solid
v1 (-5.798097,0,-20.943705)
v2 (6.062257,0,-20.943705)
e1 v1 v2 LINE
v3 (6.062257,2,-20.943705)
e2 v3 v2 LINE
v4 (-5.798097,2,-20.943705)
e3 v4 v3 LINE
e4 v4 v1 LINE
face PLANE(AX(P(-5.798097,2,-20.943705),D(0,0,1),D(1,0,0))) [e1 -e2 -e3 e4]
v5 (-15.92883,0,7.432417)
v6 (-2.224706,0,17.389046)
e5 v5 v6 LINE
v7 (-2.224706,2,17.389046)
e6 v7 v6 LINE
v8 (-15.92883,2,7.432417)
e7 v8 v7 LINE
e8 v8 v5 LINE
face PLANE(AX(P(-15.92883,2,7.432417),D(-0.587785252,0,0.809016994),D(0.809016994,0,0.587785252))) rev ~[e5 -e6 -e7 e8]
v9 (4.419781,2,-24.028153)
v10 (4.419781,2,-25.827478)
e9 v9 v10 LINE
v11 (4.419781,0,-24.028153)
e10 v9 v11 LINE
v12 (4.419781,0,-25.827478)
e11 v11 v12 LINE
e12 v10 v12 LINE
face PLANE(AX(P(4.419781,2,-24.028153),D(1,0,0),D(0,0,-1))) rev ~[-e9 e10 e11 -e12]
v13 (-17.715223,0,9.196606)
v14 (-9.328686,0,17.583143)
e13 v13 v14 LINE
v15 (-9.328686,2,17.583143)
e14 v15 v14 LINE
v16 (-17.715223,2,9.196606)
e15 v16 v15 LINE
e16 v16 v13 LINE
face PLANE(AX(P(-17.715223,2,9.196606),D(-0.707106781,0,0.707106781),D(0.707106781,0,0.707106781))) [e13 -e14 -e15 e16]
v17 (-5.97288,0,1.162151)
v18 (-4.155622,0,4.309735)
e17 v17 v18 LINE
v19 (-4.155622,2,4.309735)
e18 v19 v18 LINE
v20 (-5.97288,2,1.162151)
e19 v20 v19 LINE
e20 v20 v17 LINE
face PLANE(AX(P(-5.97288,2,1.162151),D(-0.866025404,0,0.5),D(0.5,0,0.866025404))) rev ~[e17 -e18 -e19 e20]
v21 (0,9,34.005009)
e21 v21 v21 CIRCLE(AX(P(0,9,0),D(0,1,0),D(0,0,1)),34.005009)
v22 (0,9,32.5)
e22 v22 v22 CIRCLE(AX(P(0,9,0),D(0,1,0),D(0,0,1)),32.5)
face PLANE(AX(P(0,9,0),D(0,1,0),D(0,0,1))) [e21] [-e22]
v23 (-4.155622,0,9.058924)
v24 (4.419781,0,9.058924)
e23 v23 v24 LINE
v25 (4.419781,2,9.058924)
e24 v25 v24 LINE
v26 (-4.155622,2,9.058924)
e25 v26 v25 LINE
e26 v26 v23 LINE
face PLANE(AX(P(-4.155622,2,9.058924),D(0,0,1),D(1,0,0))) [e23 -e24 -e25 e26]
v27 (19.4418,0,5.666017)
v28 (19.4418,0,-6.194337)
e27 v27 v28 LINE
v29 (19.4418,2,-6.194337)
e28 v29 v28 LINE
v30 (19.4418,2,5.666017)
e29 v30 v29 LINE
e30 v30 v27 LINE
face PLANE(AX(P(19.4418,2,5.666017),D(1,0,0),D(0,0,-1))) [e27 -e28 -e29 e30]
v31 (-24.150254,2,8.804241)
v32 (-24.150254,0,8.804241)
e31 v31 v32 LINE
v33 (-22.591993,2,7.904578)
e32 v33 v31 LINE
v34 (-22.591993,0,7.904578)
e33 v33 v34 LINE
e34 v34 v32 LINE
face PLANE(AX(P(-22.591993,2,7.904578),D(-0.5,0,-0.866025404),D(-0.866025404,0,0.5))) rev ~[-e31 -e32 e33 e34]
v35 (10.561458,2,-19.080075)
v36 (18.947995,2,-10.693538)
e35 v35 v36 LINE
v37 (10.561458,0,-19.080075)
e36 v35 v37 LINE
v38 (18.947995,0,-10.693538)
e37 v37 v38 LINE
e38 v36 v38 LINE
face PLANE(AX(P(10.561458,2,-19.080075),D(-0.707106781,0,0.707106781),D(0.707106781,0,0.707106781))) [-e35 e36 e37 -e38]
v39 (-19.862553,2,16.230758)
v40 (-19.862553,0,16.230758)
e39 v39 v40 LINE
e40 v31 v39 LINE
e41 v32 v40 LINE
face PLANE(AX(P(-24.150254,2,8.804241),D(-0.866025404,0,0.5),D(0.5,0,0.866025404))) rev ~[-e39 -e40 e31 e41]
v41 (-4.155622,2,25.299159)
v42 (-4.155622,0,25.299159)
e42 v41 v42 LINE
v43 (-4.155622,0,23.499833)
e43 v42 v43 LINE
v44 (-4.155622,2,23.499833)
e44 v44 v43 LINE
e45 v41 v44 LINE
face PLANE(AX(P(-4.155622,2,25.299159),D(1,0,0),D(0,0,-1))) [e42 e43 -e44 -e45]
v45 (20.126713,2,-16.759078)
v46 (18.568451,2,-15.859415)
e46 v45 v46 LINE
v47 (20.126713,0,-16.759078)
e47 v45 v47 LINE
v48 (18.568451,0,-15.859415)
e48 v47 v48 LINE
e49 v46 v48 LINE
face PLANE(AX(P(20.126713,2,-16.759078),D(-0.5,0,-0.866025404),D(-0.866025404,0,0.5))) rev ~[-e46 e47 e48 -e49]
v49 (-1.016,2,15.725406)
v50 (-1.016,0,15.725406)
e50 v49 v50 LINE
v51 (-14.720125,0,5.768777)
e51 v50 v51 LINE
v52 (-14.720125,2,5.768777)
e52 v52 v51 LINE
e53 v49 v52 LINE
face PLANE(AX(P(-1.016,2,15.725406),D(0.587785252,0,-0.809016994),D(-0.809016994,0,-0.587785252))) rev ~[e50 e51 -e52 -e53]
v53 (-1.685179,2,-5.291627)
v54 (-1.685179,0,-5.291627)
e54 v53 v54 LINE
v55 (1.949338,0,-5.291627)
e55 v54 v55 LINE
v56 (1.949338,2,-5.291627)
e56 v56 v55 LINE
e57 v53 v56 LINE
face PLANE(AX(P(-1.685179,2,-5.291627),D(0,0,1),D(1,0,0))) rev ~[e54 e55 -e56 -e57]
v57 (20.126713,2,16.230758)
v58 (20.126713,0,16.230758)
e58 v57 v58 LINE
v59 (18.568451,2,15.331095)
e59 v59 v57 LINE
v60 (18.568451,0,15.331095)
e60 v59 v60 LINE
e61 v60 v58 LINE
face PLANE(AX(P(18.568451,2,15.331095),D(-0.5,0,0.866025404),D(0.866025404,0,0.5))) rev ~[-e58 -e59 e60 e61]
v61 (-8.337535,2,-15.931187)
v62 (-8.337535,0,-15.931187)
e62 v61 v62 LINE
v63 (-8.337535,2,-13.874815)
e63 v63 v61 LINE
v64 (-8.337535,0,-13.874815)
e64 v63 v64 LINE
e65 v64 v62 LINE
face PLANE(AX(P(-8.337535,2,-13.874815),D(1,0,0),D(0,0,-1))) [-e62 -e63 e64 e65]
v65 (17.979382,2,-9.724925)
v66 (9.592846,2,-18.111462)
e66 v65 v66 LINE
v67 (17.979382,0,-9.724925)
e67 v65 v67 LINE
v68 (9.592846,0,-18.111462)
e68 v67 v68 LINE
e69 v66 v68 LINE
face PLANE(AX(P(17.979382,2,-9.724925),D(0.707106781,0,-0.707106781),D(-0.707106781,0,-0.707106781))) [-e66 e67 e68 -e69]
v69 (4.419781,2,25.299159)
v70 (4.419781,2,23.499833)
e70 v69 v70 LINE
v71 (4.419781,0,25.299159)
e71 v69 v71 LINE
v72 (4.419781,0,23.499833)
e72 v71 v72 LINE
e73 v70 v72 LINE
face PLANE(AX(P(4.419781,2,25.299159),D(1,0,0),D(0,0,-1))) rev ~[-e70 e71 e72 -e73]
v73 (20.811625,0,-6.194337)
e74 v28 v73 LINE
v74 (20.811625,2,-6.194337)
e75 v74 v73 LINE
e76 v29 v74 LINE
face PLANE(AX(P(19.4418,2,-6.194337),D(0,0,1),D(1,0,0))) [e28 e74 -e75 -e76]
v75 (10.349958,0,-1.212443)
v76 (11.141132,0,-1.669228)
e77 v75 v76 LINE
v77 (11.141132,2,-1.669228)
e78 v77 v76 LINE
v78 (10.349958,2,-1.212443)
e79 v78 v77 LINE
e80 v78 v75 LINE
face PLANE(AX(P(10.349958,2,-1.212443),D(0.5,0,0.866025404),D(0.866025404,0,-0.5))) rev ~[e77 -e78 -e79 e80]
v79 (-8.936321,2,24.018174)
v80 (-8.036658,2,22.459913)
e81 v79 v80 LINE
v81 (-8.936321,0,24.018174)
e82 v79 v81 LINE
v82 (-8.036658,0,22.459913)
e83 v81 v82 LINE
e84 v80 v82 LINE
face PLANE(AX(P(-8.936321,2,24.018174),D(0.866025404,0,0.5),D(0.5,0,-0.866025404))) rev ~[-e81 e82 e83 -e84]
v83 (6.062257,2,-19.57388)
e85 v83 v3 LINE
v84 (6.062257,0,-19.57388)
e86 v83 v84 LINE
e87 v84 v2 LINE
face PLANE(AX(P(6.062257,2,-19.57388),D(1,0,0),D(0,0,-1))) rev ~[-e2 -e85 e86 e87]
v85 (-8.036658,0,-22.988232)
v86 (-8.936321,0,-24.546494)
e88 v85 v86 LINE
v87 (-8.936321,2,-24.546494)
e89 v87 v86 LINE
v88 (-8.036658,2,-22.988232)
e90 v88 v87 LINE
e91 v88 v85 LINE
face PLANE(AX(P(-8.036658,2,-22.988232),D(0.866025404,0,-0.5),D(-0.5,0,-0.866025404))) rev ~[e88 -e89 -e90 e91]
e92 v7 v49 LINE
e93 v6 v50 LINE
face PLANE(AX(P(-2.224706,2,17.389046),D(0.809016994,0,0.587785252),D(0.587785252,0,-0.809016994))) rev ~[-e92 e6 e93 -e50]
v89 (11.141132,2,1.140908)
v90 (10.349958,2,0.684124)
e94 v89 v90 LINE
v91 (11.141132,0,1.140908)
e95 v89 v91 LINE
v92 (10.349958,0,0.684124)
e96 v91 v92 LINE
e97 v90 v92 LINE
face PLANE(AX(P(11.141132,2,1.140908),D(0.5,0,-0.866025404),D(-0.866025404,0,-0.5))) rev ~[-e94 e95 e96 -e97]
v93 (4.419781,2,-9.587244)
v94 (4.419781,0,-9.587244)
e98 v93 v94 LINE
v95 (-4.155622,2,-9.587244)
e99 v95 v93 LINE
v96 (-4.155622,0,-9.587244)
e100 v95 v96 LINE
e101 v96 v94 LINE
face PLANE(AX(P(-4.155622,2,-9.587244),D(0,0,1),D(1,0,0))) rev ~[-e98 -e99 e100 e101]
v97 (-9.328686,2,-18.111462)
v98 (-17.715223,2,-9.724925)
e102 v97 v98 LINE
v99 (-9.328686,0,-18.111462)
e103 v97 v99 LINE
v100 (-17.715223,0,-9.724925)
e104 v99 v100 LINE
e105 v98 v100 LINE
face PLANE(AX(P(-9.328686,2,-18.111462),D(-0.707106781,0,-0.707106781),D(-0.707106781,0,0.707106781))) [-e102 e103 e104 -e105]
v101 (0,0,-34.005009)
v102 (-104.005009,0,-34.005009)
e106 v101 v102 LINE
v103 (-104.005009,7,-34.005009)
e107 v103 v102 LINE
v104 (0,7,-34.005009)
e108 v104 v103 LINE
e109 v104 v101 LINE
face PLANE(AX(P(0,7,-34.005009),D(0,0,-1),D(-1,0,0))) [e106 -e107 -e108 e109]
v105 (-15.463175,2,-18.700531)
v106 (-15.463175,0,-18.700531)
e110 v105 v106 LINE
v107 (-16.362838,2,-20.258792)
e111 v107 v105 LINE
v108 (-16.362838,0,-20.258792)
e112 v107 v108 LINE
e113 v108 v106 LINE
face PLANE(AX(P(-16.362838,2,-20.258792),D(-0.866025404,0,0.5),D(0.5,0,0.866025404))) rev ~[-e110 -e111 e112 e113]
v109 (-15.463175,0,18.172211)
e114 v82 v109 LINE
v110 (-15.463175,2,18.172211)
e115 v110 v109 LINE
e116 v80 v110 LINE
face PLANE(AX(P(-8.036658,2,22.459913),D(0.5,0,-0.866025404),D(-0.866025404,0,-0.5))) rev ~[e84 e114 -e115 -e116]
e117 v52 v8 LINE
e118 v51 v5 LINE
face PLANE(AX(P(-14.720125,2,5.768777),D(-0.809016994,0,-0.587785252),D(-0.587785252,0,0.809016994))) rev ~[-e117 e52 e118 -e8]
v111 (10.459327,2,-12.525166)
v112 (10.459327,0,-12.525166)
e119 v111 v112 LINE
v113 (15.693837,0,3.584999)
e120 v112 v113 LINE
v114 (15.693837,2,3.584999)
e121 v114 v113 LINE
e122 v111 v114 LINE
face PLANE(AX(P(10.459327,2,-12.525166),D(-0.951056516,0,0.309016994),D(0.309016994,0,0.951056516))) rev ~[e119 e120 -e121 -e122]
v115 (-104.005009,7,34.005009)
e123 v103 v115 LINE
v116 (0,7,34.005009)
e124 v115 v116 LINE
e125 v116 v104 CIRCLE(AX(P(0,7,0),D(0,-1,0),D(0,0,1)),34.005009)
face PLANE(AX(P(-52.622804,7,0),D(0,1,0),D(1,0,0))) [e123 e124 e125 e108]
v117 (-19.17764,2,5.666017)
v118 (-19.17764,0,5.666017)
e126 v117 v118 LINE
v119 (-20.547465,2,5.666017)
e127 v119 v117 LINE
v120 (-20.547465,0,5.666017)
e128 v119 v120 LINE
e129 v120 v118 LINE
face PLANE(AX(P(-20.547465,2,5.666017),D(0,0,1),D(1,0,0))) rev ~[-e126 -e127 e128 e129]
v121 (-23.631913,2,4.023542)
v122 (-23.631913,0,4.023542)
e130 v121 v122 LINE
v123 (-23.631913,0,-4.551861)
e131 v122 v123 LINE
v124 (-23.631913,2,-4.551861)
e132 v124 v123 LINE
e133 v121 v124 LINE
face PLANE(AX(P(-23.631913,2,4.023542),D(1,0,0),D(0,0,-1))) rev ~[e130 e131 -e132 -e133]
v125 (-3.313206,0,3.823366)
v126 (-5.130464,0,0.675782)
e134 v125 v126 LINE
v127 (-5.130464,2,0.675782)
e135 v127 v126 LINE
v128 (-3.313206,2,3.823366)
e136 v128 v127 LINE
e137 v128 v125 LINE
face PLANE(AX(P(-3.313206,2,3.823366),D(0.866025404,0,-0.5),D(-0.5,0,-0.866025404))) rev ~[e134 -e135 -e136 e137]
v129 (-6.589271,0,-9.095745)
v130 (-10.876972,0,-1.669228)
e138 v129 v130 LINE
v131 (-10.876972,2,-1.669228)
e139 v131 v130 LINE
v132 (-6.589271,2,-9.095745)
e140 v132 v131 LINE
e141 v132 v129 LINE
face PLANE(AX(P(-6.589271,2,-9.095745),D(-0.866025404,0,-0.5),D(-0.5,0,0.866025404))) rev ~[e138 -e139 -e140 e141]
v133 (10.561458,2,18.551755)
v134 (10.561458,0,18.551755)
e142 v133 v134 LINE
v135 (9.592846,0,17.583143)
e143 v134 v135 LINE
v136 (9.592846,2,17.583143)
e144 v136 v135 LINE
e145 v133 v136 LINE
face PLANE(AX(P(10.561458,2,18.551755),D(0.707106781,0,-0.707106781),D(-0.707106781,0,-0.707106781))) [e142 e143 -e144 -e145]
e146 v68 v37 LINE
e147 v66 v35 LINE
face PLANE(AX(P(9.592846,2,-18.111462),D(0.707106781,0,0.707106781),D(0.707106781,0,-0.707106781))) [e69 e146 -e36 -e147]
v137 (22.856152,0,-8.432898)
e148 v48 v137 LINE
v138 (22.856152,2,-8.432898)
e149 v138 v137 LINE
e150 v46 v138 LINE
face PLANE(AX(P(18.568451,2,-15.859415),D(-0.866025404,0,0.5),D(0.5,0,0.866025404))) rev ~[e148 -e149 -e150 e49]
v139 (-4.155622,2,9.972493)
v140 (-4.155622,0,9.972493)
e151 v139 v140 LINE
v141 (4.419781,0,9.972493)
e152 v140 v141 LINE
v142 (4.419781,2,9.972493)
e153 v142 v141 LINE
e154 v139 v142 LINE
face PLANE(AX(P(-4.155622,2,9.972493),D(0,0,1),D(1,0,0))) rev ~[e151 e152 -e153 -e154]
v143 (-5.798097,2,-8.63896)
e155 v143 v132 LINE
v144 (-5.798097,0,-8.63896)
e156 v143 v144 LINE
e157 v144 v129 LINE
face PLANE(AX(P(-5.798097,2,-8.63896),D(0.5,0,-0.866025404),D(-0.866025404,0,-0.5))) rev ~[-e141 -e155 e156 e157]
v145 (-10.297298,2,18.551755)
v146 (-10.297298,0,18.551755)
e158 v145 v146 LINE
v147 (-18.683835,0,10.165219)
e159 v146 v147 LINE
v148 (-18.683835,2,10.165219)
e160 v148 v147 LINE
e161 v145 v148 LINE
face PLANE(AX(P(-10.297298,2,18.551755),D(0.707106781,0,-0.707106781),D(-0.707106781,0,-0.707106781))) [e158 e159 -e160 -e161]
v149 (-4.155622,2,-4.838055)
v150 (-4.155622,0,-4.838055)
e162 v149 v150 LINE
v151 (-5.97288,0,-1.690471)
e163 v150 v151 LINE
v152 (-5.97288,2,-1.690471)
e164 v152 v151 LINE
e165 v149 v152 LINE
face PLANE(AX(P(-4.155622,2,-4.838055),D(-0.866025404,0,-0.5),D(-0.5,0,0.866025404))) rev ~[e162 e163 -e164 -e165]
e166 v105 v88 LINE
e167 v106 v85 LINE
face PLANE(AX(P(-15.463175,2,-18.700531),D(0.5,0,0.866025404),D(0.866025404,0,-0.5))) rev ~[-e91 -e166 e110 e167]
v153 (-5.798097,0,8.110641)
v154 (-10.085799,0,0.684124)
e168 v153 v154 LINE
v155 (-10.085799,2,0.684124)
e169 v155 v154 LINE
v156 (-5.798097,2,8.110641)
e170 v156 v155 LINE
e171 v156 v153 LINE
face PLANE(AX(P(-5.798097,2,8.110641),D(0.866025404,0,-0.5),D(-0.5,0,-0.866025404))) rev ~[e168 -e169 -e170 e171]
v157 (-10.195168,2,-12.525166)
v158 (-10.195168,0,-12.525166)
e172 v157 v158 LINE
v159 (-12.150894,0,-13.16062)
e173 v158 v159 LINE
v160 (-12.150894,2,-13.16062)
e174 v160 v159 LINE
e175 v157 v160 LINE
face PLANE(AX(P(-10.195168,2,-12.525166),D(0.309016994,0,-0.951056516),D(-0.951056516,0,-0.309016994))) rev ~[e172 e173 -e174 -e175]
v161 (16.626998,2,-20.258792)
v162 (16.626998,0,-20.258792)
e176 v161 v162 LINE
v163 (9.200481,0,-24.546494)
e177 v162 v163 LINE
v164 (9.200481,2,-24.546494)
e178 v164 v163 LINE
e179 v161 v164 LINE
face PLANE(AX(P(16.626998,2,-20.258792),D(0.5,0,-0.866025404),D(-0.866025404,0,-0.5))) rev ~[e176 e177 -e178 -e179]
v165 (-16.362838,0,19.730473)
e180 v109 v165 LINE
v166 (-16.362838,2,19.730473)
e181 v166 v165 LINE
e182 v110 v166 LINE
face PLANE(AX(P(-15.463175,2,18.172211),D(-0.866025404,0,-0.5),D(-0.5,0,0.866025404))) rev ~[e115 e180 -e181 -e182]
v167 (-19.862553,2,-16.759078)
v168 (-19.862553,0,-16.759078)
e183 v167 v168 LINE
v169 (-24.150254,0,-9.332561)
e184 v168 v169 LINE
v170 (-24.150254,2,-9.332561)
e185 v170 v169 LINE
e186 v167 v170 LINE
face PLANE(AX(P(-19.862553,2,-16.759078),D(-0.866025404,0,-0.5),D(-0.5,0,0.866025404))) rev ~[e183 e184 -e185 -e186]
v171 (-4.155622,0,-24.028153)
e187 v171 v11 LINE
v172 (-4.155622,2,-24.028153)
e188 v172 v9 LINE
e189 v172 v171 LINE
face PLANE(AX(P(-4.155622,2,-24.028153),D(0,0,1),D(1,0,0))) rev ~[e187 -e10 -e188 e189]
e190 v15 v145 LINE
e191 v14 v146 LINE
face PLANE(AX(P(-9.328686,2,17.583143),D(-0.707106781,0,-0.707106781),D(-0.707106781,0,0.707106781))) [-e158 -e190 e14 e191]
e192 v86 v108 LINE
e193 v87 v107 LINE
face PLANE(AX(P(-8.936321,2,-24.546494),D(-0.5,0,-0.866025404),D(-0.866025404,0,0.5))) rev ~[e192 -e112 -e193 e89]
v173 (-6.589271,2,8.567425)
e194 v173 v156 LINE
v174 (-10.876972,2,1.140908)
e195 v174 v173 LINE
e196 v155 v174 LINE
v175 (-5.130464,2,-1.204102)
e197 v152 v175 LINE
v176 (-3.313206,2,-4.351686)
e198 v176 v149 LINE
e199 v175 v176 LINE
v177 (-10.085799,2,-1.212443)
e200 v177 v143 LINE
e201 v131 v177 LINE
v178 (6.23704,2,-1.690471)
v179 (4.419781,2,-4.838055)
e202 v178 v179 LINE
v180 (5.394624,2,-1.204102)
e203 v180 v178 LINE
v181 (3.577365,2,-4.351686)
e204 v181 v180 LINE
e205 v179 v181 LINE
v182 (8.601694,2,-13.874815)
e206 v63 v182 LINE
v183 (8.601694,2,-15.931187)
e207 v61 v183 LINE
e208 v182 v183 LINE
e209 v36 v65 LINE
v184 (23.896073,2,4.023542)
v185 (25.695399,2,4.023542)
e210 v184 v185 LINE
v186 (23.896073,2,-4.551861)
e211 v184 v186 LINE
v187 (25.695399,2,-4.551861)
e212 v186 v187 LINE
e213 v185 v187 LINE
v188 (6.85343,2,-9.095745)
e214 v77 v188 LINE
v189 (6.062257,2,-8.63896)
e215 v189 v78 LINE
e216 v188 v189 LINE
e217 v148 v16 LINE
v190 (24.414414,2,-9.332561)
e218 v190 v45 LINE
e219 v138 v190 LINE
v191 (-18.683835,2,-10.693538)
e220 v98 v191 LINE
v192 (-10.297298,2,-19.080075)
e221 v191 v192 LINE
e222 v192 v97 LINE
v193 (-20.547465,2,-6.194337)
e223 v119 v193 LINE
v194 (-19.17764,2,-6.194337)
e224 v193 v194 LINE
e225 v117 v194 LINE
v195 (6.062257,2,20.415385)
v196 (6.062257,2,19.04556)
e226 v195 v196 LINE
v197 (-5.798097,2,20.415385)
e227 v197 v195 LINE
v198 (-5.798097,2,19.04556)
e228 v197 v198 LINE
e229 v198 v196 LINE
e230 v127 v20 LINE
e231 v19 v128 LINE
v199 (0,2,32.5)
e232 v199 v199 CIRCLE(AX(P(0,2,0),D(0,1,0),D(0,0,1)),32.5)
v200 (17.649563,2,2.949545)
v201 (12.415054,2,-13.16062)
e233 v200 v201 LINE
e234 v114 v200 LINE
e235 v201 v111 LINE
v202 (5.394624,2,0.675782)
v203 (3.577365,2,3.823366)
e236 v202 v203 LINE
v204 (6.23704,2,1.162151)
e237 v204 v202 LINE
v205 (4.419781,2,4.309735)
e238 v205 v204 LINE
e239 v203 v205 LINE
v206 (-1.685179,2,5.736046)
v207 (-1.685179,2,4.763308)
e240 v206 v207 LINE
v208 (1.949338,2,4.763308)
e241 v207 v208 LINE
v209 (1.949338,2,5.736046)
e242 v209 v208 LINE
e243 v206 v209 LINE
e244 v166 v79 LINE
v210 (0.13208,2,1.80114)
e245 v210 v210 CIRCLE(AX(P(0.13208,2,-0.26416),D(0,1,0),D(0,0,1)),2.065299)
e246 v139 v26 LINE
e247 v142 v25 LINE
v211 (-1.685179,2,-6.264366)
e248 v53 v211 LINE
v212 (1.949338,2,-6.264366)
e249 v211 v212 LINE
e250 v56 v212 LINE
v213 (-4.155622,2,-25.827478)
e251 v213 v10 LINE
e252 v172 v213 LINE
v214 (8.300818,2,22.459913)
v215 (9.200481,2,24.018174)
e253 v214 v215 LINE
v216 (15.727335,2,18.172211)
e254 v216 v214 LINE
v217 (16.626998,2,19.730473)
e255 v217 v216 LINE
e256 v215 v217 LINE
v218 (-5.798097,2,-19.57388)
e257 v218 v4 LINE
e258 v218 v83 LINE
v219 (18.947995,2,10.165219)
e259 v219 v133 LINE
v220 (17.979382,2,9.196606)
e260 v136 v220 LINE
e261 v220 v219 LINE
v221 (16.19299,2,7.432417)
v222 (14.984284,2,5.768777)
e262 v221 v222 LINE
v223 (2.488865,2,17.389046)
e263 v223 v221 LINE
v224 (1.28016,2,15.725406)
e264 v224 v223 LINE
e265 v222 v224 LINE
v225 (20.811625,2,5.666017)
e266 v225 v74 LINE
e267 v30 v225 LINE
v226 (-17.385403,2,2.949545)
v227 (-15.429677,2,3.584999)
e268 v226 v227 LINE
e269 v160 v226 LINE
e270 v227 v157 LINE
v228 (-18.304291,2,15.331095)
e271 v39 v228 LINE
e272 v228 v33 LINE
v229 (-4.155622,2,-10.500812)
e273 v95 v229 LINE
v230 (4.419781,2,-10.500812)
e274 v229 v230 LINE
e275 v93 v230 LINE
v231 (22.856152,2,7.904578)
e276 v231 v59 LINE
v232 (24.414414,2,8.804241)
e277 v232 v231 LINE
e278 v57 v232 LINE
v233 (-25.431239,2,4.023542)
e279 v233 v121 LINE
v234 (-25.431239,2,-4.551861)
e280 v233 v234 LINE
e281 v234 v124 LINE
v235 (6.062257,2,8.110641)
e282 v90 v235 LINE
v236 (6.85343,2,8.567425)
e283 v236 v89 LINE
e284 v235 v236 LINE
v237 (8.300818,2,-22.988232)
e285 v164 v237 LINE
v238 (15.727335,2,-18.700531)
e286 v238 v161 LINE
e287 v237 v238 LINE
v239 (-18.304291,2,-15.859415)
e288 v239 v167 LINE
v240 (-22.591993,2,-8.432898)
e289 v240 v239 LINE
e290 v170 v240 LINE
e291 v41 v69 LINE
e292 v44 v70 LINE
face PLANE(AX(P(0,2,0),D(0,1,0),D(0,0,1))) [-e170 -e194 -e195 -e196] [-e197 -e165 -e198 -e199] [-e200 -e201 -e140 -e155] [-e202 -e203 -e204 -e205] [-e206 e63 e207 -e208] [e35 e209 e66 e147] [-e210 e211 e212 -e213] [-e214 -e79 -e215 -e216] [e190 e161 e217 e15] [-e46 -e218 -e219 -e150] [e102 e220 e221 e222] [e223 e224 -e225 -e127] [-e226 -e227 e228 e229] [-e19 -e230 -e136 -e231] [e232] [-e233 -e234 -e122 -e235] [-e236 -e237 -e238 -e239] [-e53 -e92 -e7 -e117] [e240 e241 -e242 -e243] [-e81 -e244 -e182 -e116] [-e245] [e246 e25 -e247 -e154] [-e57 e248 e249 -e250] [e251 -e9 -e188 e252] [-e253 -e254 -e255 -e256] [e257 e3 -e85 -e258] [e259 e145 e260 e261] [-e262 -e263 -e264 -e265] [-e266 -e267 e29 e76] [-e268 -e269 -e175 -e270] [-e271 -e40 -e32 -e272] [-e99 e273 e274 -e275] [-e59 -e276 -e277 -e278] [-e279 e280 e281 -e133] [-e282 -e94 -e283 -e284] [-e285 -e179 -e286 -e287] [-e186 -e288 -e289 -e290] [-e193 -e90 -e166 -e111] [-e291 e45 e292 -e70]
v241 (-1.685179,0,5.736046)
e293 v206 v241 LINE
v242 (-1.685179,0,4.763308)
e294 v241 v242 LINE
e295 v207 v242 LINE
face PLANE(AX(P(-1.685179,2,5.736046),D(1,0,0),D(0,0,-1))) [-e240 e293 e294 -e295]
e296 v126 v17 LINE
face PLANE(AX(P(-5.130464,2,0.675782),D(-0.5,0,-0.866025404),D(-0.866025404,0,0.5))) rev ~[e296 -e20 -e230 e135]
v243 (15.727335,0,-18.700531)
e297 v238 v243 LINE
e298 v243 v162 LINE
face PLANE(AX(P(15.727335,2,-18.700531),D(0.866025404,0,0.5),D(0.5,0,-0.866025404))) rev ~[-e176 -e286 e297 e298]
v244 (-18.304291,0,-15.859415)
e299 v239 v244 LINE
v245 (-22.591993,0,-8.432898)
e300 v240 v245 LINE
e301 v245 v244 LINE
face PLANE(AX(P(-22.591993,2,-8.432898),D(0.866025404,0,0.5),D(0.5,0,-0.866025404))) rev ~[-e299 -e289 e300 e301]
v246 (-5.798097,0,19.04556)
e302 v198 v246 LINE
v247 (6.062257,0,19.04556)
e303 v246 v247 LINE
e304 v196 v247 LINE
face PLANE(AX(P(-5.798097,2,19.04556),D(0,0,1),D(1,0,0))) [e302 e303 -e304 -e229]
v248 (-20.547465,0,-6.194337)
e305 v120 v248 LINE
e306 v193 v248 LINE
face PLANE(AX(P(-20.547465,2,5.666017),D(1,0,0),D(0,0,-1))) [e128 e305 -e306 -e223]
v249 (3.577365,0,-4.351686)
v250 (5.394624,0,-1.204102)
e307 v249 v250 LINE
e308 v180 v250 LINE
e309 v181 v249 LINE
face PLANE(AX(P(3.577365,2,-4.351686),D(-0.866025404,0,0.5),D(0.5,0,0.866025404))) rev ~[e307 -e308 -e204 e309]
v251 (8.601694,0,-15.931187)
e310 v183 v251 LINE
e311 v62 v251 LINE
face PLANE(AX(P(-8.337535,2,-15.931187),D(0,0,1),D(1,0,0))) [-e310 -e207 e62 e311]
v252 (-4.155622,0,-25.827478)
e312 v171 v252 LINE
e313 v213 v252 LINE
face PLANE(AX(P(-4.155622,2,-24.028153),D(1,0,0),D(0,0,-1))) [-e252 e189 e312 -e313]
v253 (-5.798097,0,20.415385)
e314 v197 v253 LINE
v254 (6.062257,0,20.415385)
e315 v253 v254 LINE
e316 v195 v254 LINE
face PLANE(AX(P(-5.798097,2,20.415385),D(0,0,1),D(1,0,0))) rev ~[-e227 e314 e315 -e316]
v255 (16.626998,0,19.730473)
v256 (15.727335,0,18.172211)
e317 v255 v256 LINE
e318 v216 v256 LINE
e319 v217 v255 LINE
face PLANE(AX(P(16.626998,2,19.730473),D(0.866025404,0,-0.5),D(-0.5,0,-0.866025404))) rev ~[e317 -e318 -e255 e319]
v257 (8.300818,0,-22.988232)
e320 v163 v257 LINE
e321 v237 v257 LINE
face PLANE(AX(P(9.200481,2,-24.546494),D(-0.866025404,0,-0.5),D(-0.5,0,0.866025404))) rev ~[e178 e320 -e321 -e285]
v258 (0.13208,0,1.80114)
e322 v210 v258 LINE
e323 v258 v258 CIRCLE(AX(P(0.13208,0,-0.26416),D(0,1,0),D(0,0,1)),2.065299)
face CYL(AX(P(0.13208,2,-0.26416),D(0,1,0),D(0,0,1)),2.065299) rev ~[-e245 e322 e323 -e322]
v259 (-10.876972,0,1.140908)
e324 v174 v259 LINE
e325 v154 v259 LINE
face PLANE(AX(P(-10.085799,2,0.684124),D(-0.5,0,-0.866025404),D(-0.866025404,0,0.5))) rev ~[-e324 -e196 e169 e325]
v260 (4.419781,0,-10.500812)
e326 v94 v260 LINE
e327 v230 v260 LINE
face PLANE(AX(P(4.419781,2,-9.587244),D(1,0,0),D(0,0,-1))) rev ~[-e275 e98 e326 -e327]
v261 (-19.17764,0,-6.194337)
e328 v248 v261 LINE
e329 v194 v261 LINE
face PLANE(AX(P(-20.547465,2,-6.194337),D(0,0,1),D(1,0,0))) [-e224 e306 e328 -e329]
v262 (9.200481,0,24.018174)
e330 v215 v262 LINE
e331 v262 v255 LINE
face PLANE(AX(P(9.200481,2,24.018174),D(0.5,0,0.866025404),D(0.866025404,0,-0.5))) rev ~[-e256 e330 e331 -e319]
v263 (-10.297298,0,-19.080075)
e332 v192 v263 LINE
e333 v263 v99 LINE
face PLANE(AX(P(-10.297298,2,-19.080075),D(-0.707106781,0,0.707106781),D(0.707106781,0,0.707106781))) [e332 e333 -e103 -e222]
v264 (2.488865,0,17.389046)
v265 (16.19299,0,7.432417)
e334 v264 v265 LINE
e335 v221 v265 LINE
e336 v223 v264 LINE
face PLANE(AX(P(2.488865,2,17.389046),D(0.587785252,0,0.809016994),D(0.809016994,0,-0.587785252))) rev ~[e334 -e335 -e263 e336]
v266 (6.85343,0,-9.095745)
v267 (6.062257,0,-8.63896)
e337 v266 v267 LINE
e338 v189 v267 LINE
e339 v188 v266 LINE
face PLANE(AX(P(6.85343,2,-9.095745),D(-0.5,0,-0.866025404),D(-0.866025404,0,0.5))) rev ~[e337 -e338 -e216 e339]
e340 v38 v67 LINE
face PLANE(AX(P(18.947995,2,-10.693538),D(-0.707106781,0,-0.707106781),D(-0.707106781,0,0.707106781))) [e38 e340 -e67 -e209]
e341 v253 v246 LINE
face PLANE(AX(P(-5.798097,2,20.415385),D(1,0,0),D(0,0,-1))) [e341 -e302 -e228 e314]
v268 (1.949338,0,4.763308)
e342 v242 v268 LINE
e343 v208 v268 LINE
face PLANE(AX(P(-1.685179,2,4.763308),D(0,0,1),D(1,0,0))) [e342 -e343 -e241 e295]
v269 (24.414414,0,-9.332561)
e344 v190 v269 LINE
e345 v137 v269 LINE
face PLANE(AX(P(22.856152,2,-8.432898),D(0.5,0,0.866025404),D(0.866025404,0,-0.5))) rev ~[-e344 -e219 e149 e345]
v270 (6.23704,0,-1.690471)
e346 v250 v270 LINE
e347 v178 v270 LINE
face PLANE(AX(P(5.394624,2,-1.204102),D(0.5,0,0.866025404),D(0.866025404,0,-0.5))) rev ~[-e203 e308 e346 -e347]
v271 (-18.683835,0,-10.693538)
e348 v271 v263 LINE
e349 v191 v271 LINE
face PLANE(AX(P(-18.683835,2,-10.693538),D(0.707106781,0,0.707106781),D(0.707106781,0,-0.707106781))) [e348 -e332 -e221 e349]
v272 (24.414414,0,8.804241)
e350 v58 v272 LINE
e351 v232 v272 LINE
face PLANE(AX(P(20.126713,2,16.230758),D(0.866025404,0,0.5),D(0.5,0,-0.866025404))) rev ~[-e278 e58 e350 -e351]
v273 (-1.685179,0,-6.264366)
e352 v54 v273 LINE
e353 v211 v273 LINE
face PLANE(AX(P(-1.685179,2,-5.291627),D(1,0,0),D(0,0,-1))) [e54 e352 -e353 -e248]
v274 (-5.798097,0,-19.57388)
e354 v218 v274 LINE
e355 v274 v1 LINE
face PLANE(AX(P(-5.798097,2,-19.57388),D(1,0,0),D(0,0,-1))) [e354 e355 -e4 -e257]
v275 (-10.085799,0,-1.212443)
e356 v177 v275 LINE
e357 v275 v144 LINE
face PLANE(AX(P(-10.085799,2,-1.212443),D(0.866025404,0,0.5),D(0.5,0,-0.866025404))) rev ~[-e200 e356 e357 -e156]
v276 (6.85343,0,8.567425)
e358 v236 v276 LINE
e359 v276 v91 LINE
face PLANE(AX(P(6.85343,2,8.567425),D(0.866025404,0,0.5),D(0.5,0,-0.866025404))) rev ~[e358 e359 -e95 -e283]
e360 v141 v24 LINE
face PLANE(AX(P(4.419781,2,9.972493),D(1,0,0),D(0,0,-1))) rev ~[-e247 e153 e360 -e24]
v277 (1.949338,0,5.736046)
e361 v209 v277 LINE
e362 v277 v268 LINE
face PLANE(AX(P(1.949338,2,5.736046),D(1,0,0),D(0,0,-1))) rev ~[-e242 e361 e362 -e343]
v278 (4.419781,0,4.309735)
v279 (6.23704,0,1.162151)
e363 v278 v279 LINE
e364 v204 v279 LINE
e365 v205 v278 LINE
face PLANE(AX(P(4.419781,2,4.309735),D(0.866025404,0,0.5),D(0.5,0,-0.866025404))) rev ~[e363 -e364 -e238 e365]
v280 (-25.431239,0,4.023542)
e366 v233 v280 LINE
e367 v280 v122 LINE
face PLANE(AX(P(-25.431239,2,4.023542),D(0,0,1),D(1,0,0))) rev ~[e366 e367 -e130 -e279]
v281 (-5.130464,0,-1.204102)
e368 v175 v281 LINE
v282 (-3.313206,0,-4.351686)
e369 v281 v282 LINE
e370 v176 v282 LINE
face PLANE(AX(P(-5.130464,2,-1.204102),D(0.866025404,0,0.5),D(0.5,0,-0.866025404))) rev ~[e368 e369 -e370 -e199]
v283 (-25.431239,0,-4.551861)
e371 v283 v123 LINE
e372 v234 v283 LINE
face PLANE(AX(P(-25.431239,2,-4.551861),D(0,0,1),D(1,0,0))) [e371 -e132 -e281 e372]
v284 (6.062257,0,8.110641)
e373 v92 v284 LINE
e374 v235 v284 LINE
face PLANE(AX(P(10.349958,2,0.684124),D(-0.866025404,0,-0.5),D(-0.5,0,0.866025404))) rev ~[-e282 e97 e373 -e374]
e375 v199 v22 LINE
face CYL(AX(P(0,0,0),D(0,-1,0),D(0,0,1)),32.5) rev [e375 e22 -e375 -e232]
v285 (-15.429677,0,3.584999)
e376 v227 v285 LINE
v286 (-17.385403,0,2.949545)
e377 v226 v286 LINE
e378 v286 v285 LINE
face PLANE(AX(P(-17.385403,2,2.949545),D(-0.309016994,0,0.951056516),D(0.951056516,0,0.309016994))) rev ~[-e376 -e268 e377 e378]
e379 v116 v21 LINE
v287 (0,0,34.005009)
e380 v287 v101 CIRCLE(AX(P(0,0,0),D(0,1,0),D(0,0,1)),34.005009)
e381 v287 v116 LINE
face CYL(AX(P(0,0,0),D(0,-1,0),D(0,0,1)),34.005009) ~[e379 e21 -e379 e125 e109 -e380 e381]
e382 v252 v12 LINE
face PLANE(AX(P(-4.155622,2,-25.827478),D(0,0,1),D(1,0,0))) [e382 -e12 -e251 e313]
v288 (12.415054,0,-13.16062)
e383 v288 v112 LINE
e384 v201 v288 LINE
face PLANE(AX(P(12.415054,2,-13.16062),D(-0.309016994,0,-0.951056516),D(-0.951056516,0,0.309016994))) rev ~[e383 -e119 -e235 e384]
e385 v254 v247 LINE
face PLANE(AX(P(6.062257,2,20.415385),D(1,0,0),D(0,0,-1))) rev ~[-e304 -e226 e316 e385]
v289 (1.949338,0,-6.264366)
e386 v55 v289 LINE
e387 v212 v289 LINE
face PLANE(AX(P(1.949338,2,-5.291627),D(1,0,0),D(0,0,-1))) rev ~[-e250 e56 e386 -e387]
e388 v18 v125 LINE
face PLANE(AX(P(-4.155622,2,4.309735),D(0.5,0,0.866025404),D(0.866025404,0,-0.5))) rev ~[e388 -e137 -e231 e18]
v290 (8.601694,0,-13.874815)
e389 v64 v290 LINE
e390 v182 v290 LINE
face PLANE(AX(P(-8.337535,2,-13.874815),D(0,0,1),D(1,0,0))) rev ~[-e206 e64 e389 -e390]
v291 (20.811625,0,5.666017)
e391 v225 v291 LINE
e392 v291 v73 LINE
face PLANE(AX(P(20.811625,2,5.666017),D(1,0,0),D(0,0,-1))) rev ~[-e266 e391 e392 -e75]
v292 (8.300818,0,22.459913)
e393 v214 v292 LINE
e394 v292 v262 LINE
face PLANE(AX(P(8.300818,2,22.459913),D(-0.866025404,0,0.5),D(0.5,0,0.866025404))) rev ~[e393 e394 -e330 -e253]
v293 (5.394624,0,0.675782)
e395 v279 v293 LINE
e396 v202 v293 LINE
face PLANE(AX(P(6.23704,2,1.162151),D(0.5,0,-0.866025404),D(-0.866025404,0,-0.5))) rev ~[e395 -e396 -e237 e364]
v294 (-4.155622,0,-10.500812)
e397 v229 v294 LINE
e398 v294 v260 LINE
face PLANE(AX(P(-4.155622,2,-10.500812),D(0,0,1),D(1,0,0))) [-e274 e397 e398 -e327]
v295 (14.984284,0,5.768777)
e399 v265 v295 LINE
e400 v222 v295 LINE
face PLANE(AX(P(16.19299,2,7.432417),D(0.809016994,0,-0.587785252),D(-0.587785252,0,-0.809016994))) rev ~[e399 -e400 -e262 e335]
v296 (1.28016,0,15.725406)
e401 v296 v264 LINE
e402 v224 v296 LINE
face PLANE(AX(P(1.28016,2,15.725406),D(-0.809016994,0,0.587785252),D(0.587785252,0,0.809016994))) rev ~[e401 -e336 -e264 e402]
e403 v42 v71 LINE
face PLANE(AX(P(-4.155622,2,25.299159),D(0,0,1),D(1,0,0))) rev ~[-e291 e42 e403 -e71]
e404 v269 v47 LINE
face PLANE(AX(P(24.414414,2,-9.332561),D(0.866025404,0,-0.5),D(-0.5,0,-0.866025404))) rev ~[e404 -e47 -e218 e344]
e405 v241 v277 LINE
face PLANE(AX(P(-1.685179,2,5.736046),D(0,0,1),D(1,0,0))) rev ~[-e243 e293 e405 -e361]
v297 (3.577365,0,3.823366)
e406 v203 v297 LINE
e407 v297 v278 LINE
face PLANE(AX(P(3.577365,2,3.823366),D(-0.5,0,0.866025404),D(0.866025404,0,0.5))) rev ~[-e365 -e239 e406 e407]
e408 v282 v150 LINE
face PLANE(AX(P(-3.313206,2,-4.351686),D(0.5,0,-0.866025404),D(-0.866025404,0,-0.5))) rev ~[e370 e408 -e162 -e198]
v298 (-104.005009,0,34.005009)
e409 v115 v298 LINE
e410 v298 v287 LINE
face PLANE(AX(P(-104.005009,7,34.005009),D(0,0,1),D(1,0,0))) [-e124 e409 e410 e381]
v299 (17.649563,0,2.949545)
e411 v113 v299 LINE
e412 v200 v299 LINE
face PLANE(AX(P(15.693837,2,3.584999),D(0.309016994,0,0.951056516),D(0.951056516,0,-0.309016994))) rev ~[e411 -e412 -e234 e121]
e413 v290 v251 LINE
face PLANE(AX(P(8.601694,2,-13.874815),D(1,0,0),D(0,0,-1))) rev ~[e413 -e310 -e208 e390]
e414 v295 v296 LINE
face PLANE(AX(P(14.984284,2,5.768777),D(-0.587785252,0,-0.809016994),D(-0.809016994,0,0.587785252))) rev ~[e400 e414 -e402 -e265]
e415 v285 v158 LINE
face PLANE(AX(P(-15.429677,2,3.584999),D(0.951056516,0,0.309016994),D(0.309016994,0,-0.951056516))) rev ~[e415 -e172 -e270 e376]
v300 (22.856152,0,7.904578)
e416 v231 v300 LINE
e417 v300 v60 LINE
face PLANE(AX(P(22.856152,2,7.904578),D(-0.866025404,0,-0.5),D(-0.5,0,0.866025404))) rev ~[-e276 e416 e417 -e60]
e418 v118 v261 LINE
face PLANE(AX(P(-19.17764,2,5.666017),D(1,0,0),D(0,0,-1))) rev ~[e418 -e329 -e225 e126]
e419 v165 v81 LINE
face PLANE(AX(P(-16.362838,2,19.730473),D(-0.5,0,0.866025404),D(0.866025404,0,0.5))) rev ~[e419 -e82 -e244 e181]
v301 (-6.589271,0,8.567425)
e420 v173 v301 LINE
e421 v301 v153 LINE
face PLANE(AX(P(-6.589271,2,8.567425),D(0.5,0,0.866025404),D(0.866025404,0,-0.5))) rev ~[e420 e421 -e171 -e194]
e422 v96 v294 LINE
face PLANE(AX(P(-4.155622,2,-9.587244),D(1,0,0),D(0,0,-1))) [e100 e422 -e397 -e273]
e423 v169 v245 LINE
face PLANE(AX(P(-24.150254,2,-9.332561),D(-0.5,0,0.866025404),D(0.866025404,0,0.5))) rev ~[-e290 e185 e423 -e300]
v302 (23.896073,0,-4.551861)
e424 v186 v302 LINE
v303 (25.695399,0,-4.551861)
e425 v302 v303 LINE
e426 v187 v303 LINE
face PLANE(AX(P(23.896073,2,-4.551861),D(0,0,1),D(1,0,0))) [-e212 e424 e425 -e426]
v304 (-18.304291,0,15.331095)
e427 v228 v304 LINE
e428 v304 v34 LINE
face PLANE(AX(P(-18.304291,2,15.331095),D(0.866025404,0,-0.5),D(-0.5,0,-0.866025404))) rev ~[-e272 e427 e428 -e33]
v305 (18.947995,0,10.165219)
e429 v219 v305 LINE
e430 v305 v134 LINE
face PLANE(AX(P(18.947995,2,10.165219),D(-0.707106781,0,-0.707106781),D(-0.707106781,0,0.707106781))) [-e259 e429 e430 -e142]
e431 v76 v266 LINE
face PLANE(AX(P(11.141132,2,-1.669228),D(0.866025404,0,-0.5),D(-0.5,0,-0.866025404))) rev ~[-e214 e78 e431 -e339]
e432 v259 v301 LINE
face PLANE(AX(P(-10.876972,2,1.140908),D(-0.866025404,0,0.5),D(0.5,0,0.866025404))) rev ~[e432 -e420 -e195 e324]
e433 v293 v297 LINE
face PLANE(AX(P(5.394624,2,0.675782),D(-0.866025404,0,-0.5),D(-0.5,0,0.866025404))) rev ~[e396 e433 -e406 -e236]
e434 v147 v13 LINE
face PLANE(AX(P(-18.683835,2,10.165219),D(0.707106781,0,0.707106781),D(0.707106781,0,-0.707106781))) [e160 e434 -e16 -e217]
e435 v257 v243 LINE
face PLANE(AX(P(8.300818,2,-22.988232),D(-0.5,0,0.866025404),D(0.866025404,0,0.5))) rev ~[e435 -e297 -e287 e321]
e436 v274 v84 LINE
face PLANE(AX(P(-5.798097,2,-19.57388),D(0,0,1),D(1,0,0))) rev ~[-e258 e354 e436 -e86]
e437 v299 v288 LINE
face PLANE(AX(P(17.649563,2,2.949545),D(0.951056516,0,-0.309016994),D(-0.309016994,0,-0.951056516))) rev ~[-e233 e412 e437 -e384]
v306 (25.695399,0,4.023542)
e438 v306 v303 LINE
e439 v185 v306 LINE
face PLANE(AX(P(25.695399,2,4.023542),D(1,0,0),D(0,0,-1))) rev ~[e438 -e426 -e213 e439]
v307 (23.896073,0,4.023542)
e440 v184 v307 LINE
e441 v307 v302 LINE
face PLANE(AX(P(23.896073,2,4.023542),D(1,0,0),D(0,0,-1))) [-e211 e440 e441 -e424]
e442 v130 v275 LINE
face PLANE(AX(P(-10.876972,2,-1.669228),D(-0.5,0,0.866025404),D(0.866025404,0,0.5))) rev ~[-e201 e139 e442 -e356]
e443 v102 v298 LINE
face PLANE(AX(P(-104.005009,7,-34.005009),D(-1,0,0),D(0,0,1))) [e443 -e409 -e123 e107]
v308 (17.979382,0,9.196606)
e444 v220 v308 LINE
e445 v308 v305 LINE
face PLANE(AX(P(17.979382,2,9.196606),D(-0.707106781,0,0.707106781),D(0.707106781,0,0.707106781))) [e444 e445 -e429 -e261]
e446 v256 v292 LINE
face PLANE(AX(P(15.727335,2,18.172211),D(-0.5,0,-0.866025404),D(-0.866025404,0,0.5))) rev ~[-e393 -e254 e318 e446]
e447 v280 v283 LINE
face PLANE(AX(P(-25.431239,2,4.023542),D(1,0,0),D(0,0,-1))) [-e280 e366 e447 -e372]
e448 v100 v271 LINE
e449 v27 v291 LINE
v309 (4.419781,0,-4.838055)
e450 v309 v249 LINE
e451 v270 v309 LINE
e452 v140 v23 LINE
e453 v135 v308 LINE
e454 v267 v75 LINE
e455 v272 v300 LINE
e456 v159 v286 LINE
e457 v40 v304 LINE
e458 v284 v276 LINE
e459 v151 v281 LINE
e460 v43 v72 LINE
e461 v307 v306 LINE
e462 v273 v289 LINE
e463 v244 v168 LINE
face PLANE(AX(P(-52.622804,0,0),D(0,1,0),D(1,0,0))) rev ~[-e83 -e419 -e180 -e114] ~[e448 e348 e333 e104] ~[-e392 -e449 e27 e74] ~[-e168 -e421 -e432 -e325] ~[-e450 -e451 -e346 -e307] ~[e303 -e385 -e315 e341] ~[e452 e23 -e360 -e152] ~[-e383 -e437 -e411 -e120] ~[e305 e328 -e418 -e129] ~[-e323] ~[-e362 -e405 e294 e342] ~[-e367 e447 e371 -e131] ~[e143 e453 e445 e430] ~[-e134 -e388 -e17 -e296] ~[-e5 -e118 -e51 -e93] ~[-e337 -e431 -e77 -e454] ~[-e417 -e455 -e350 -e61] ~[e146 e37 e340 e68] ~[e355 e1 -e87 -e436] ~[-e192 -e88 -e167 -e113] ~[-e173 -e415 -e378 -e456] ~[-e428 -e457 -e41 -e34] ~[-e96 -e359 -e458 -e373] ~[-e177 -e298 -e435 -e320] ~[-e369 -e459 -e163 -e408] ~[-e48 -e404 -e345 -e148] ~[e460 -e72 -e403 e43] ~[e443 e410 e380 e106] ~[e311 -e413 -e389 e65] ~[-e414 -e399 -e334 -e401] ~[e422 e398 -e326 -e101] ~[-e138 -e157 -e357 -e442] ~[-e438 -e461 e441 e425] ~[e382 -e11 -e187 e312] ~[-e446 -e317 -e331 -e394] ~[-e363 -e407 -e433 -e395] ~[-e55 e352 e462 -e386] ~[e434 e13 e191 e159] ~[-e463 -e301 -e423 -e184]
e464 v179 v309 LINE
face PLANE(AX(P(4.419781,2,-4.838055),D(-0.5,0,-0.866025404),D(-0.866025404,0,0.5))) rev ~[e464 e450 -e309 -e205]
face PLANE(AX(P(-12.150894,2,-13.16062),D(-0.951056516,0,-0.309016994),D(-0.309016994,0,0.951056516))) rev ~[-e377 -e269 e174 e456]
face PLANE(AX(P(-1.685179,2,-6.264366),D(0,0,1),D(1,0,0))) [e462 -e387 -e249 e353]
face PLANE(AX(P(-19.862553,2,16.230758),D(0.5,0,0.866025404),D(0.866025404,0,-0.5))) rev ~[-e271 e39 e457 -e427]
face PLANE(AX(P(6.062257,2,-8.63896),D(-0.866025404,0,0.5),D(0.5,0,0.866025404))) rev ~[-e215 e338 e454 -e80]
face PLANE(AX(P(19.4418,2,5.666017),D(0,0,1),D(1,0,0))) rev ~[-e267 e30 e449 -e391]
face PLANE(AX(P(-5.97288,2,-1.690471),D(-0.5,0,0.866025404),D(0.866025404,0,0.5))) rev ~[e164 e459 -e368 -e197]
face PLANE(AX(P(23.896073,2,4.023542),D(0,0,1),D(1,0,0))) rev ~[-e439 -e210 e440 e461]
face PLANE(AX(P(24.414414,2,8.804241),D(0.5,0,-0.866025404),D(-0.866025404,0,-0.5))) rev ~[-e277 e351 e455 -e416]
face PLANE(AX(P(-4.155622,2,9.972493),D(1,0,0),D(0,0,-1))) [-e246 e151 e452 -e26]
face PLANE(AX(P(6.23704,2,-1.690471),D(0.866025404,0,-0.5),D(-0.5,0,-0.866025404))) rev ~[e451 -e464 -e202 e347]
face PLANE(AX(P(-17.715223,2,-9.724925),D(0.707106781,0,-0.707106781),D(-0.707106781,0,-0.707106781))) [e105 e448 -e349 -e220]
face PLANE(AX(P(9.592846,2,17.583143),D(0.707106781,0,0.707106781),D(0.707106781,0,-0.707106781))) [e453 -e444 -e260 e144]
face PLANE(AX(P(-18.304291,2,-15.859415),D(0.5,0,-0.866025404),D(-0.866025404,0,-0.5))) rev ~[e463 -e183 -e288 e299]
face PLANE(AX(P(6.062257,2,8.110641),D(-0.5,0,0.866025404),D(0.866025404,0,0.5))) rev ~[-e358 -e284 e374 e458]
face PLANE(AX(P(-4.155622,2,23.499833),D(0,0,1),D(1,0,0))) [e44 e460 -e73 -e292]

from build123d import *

# Parameters (mm, degrees)
SKETCH_2_R           = 32.5
EXTRUDE_2_DEPTH      = 2
SKETCH_3_R           = 2.065299263
SKETCH_3_W           = 3.634517066
SKETCH_3_H           = 0.972738316
SKETCH_3_H_2         = 0.972738315
SKETCH_3_W_2         = 8.575403128
SKETCH_3_H_3         = 0.913568408
SKETCH_3_H_4         = 0.913568407
SKETCH_3_W_3         = 16.93922902
SKETCH_3_H_5         = 2.056372223
SKETCH_3_H_6         = 1.799325695
SKETCH_3_W_4         = 1.799325695
SKETCH_3_H_7         = 8.575403129
SKETCH_3_W_5         = 11.860354008
SKETCH_3_H_8         = 1.369825
SKETCH_3_W_6         = 1.369825
SKETCH_3_H_9         = 11.860354008
CUT_EXTRUDE_1_DEPTH  = 2
EXTRUDE_3_DEPTH      = 7
EXTRUDE_3_DEPTH_BACK = 2
SKETCH_4_R           = 34.00500901
SKETCH_4_R_2         = 32.5
EXTRUDE_START        = 7
EXTRUDE_4_DEPTH      = 7


with BuildPart() as part:
    # 草图2 → 凸台-拉伸2 (new body)
    with BuildSketch(Plane(origin=(0, 0, 0), x_dir=(1, 0, 0), z_dir=(0, 1, 0))):
        with Locations(Location((0, 0, 0), (0, 0, 270))):
            Circle(SKETCH_2_R)
    extrude(amount=EXTRUDE_2_DEPTH)

    # 草图3 → 切除-拉伸1 (cut)
    with BuildSketch(Plane(origin=(0, 2, 0), x_dir=(1, 0, 0), z_dir=(0, 1, 0))):
        with Locations(Location((0.132079869, 0.264159738, 0), (0, 0, 270))):
            Circle(SKETCH_3_R)
        Polygon((4.419781433, 4.838054797), (3.577365341, 4.351685639), (5.394623874, 1.20410153), (6.237039966, 1.690470687), align=None)
        with Locations((0.132079869, 5.777996588)):
            Rectangle(SKETCH_3_W, SKETCH_3_H)
        Polygon((6.237039966, -1.162151211), (5.394623874, -0.675782054), (3.577365341, -3.823366163), (4.419781433, -4.309735321), align=None)
        with Locations((0.132079869, -5.249677113)):
            Rectangle(SKETCH_3_W, SKETCH_3_H_2)
        Polygon((-4.155621695, -4.309735321), (-3.313205603, -3.823366163), (-5.130464136, -0.675782054), (-5.972880228, -1.162151211), align=None)
        Polygon((-5.972880228, 1.690470687), (-5.130464136, 1.20410153), (-3.313205603, 4.351685639), (-4.155621695, 4.838054797), align=None)
        with Locations((0.132079869, 10.044028173)):
            Rectangle(SKETCH_3_W_2, SKETCH_3_H_3)
        Polygon((6.853430322, 9.095744536), (6.062256873, 8.638960332), (10.349958437, 1.212443375), (11.141131886, 1.669227579), align=None)
        Polygon((11.141131886, -1.140908103), (10.349958437, -0.684123899), (6.062256873, -8.110640856), (6.853430322, -8.56742506), align=None)
        with Locations((0.132079869, -9.515708698)):
            Rectangle(SKETCH_3_W_2, SKETCH_3_H_4)
        Polygon((-6.589270584, -8.56742506), (-5.798097135, -8.110640856), (-10.085798699, -0.684123899), (-10.876972148, -1.140908103), align=None)
        Polygon((-10.876972148, 1.669227579), (-10.085798699, 1.212443375), (-5.798097135, 8.638960332), (-6.589270584, 9.095744536), align=None)
        with Locations((0.132079869, 14.903001057)):
            Rectangle(SKETCH_3_W_3, SKETCH_3_H_5)
        Polygon((12.415053578, 13.160619536), (10.459327375, 12.525165572), (15.693837014, -3.584998569), (17.649563217, -2.949544605), align=None)
        Polygon((16.192989615, -7.432417203), (14.984284348, -5.768777127), (1.280160199, -15.725406131), (2.488865465, -17.389046206), align=None)
        Polygon((-2.224705727, -17.389046206), (-1.016000461, -15.725406131), (-14.72012461, -5.768777127), (-15.928829877, -7.432417203), align=None)
        Polygon((-17.385403479, -2.949544605), (-15.429677276, -3.584998569), (-10.195167637, 12.525165572), (-12.15089384, 13.160619536), align=None)
        with Locations((0.132079869, 24.927815646)):
            Rectangle(SKETCH_3_W_2, SKETCH_3_H_6)
        Polygon((9.200480768, 24.546493967), (8.30081792, 22.988232205), (15.727334878, 18.700530641), (16.626997725, 20.258792403), align=None)
        Polygon((20.126712534, 16.759077594), (18.568450772, 15.859414746), (22.856152336, 8.432897789), (24.414414098, 9.332560637), align=None)
        with Locations((24.795735777, 0.264159738)):
            Rectangle(SKETCH_3_W_4, SKETCH_3_H_7)
        Polygon((24.414414098, -8.804241161), (22.856152336, -7.904578313), (18.568450772, -15.331095271), (20.126712534, -16.230758118), align=None)
        Polygon((16.626997725, -19.730472927), (15.727334878, -18.172211165), (8.30081792, -22.459912729), (9.200480768, -24.018174491), align=None)
        with Locations((0.132079869, -24.39949617)):
            Rectangle(SKETCH_3_W_2, SKETCH_3_H_6)
        Polygon((-8.93632103, -24.018174491), (-8.036658182, -22.459912729), (-15.46317514, -18.172211165), (-16.362837987, -19.730472927), align=None)
        Polygon((-19.862552796, -16.230758118), (-18.304291034, -15.331095271), (-22.591992598, -7.904578313), (-24.15025436, -8.804241161), align=None)
        with Locations((-24.531576039, 0.264159738)):
            Rectangle(SKETCH_3_W_4, SKETCH_3_H_7)
        Polygon((-24.15025436, 9.332560637), (-22.591992598, 8.432897789), (-18.304291034, 15.859414746), (-19.862552796, 16.759077594), align=None)
        Polygon((-16.362837987, 20.258792403), (-15.46317514, 18.700530641), (-8.036658182, 22.988232205), (-8.93632103, 24.546493967), align=None)
        Polygon((9.592845567, 18.111462182), (10.561458114, 19.080074729), (18.94799486, 10.693537983), (17.979382313, 9.724925436), align=None)
        with Locations((0.132079869, 20.258792403)):
            Rectangle(SKETCH_3_W_5, SKETCH_3_H_8)
        with Locations((20.126712534, 0.264159738)):
            Rectangle(SKETCH_3_W_6, SKETCH_3_H_9)
        Polygon((17.979382313, -9.19660596), (18.94799486, -10.165218507), (10.561458114, -18.551755253), (9.592845567, -17.583142706), align=None)
        with Locations((0.132079869, -19.730472927)):
            Rectangle(SKETCH_3_W_5, SKETCH_3_H_8)
        Polygon((-9.328685829, -17.583142706), (-10.297298376, -18.551755253), (-18.683835122, -10.165218507), (-17.715222575, -9.19660596), align=None)
        with Locations((-19.862552796, 0.264159738)):
            Rectangle(SKETCH_3_W_6, SKETCH_3_H_9)
        Polygon((-17.715222575, 9.724925436), (-18.683835122, 10.693537983), (-10.297298376, 19.080074729), (-9.328685829, 18.111462182), align=None)
    extrude(amount=-CUT_EXTRUDE_1_DEPTH, mode=Mode.SUBTRACT)

    # 草图4 → 凸台-拉伸3 (add, two sides: drawn at the far end of the back side and taken through both)
    with BuildSketch(Plane(origin=(0, 2, 0), x_dir=(1, 0, 0), z_dir=(0, 1, 0)).offset(-EXTRUDE_3_DEPTH_BACK)):
        with Locations(Location((0, 0, 0), (0, 0, 270))):
            Circle(SKETCH_4_R)
        with Locations(Location((0, 0, 0), (0, 0, 270))):
            Circle(SKETCH_4_R_2, mode=Mode.SUBTRACT)
    extrude(amount=EXTRUDE_3_DEPTH + EXTRUDE_3_DEPTH_BACK)

    # 草图5 → 凸台-拉伸4 (add)
    with BuildSketch(Plane(origin=(0, 0, 0), x_dir=(1, 0, 0), z_dir=(0, 1, 0)).offset(EXTRUDE_START)):
        with BuildLine():
            Line((-34.00500901, 34.00500901), (-104.00500901, 34.00500901))
            Line((-104.00500901, 34.00500901), (-104.00500901, -34.00500901))
            Line((-104.00500901, -34.00500901), (0, -34.00500901))
            ThreePointArc((0, -34.00500901), (-34.00500901, 0), (0, 34.00500901))
            Line((0, 34.00500901), (-34.00500901, 34.00500901))
        make_face()
    extrude(amount=-EXTRUDE_4_DEPTH)


solid = part.part
